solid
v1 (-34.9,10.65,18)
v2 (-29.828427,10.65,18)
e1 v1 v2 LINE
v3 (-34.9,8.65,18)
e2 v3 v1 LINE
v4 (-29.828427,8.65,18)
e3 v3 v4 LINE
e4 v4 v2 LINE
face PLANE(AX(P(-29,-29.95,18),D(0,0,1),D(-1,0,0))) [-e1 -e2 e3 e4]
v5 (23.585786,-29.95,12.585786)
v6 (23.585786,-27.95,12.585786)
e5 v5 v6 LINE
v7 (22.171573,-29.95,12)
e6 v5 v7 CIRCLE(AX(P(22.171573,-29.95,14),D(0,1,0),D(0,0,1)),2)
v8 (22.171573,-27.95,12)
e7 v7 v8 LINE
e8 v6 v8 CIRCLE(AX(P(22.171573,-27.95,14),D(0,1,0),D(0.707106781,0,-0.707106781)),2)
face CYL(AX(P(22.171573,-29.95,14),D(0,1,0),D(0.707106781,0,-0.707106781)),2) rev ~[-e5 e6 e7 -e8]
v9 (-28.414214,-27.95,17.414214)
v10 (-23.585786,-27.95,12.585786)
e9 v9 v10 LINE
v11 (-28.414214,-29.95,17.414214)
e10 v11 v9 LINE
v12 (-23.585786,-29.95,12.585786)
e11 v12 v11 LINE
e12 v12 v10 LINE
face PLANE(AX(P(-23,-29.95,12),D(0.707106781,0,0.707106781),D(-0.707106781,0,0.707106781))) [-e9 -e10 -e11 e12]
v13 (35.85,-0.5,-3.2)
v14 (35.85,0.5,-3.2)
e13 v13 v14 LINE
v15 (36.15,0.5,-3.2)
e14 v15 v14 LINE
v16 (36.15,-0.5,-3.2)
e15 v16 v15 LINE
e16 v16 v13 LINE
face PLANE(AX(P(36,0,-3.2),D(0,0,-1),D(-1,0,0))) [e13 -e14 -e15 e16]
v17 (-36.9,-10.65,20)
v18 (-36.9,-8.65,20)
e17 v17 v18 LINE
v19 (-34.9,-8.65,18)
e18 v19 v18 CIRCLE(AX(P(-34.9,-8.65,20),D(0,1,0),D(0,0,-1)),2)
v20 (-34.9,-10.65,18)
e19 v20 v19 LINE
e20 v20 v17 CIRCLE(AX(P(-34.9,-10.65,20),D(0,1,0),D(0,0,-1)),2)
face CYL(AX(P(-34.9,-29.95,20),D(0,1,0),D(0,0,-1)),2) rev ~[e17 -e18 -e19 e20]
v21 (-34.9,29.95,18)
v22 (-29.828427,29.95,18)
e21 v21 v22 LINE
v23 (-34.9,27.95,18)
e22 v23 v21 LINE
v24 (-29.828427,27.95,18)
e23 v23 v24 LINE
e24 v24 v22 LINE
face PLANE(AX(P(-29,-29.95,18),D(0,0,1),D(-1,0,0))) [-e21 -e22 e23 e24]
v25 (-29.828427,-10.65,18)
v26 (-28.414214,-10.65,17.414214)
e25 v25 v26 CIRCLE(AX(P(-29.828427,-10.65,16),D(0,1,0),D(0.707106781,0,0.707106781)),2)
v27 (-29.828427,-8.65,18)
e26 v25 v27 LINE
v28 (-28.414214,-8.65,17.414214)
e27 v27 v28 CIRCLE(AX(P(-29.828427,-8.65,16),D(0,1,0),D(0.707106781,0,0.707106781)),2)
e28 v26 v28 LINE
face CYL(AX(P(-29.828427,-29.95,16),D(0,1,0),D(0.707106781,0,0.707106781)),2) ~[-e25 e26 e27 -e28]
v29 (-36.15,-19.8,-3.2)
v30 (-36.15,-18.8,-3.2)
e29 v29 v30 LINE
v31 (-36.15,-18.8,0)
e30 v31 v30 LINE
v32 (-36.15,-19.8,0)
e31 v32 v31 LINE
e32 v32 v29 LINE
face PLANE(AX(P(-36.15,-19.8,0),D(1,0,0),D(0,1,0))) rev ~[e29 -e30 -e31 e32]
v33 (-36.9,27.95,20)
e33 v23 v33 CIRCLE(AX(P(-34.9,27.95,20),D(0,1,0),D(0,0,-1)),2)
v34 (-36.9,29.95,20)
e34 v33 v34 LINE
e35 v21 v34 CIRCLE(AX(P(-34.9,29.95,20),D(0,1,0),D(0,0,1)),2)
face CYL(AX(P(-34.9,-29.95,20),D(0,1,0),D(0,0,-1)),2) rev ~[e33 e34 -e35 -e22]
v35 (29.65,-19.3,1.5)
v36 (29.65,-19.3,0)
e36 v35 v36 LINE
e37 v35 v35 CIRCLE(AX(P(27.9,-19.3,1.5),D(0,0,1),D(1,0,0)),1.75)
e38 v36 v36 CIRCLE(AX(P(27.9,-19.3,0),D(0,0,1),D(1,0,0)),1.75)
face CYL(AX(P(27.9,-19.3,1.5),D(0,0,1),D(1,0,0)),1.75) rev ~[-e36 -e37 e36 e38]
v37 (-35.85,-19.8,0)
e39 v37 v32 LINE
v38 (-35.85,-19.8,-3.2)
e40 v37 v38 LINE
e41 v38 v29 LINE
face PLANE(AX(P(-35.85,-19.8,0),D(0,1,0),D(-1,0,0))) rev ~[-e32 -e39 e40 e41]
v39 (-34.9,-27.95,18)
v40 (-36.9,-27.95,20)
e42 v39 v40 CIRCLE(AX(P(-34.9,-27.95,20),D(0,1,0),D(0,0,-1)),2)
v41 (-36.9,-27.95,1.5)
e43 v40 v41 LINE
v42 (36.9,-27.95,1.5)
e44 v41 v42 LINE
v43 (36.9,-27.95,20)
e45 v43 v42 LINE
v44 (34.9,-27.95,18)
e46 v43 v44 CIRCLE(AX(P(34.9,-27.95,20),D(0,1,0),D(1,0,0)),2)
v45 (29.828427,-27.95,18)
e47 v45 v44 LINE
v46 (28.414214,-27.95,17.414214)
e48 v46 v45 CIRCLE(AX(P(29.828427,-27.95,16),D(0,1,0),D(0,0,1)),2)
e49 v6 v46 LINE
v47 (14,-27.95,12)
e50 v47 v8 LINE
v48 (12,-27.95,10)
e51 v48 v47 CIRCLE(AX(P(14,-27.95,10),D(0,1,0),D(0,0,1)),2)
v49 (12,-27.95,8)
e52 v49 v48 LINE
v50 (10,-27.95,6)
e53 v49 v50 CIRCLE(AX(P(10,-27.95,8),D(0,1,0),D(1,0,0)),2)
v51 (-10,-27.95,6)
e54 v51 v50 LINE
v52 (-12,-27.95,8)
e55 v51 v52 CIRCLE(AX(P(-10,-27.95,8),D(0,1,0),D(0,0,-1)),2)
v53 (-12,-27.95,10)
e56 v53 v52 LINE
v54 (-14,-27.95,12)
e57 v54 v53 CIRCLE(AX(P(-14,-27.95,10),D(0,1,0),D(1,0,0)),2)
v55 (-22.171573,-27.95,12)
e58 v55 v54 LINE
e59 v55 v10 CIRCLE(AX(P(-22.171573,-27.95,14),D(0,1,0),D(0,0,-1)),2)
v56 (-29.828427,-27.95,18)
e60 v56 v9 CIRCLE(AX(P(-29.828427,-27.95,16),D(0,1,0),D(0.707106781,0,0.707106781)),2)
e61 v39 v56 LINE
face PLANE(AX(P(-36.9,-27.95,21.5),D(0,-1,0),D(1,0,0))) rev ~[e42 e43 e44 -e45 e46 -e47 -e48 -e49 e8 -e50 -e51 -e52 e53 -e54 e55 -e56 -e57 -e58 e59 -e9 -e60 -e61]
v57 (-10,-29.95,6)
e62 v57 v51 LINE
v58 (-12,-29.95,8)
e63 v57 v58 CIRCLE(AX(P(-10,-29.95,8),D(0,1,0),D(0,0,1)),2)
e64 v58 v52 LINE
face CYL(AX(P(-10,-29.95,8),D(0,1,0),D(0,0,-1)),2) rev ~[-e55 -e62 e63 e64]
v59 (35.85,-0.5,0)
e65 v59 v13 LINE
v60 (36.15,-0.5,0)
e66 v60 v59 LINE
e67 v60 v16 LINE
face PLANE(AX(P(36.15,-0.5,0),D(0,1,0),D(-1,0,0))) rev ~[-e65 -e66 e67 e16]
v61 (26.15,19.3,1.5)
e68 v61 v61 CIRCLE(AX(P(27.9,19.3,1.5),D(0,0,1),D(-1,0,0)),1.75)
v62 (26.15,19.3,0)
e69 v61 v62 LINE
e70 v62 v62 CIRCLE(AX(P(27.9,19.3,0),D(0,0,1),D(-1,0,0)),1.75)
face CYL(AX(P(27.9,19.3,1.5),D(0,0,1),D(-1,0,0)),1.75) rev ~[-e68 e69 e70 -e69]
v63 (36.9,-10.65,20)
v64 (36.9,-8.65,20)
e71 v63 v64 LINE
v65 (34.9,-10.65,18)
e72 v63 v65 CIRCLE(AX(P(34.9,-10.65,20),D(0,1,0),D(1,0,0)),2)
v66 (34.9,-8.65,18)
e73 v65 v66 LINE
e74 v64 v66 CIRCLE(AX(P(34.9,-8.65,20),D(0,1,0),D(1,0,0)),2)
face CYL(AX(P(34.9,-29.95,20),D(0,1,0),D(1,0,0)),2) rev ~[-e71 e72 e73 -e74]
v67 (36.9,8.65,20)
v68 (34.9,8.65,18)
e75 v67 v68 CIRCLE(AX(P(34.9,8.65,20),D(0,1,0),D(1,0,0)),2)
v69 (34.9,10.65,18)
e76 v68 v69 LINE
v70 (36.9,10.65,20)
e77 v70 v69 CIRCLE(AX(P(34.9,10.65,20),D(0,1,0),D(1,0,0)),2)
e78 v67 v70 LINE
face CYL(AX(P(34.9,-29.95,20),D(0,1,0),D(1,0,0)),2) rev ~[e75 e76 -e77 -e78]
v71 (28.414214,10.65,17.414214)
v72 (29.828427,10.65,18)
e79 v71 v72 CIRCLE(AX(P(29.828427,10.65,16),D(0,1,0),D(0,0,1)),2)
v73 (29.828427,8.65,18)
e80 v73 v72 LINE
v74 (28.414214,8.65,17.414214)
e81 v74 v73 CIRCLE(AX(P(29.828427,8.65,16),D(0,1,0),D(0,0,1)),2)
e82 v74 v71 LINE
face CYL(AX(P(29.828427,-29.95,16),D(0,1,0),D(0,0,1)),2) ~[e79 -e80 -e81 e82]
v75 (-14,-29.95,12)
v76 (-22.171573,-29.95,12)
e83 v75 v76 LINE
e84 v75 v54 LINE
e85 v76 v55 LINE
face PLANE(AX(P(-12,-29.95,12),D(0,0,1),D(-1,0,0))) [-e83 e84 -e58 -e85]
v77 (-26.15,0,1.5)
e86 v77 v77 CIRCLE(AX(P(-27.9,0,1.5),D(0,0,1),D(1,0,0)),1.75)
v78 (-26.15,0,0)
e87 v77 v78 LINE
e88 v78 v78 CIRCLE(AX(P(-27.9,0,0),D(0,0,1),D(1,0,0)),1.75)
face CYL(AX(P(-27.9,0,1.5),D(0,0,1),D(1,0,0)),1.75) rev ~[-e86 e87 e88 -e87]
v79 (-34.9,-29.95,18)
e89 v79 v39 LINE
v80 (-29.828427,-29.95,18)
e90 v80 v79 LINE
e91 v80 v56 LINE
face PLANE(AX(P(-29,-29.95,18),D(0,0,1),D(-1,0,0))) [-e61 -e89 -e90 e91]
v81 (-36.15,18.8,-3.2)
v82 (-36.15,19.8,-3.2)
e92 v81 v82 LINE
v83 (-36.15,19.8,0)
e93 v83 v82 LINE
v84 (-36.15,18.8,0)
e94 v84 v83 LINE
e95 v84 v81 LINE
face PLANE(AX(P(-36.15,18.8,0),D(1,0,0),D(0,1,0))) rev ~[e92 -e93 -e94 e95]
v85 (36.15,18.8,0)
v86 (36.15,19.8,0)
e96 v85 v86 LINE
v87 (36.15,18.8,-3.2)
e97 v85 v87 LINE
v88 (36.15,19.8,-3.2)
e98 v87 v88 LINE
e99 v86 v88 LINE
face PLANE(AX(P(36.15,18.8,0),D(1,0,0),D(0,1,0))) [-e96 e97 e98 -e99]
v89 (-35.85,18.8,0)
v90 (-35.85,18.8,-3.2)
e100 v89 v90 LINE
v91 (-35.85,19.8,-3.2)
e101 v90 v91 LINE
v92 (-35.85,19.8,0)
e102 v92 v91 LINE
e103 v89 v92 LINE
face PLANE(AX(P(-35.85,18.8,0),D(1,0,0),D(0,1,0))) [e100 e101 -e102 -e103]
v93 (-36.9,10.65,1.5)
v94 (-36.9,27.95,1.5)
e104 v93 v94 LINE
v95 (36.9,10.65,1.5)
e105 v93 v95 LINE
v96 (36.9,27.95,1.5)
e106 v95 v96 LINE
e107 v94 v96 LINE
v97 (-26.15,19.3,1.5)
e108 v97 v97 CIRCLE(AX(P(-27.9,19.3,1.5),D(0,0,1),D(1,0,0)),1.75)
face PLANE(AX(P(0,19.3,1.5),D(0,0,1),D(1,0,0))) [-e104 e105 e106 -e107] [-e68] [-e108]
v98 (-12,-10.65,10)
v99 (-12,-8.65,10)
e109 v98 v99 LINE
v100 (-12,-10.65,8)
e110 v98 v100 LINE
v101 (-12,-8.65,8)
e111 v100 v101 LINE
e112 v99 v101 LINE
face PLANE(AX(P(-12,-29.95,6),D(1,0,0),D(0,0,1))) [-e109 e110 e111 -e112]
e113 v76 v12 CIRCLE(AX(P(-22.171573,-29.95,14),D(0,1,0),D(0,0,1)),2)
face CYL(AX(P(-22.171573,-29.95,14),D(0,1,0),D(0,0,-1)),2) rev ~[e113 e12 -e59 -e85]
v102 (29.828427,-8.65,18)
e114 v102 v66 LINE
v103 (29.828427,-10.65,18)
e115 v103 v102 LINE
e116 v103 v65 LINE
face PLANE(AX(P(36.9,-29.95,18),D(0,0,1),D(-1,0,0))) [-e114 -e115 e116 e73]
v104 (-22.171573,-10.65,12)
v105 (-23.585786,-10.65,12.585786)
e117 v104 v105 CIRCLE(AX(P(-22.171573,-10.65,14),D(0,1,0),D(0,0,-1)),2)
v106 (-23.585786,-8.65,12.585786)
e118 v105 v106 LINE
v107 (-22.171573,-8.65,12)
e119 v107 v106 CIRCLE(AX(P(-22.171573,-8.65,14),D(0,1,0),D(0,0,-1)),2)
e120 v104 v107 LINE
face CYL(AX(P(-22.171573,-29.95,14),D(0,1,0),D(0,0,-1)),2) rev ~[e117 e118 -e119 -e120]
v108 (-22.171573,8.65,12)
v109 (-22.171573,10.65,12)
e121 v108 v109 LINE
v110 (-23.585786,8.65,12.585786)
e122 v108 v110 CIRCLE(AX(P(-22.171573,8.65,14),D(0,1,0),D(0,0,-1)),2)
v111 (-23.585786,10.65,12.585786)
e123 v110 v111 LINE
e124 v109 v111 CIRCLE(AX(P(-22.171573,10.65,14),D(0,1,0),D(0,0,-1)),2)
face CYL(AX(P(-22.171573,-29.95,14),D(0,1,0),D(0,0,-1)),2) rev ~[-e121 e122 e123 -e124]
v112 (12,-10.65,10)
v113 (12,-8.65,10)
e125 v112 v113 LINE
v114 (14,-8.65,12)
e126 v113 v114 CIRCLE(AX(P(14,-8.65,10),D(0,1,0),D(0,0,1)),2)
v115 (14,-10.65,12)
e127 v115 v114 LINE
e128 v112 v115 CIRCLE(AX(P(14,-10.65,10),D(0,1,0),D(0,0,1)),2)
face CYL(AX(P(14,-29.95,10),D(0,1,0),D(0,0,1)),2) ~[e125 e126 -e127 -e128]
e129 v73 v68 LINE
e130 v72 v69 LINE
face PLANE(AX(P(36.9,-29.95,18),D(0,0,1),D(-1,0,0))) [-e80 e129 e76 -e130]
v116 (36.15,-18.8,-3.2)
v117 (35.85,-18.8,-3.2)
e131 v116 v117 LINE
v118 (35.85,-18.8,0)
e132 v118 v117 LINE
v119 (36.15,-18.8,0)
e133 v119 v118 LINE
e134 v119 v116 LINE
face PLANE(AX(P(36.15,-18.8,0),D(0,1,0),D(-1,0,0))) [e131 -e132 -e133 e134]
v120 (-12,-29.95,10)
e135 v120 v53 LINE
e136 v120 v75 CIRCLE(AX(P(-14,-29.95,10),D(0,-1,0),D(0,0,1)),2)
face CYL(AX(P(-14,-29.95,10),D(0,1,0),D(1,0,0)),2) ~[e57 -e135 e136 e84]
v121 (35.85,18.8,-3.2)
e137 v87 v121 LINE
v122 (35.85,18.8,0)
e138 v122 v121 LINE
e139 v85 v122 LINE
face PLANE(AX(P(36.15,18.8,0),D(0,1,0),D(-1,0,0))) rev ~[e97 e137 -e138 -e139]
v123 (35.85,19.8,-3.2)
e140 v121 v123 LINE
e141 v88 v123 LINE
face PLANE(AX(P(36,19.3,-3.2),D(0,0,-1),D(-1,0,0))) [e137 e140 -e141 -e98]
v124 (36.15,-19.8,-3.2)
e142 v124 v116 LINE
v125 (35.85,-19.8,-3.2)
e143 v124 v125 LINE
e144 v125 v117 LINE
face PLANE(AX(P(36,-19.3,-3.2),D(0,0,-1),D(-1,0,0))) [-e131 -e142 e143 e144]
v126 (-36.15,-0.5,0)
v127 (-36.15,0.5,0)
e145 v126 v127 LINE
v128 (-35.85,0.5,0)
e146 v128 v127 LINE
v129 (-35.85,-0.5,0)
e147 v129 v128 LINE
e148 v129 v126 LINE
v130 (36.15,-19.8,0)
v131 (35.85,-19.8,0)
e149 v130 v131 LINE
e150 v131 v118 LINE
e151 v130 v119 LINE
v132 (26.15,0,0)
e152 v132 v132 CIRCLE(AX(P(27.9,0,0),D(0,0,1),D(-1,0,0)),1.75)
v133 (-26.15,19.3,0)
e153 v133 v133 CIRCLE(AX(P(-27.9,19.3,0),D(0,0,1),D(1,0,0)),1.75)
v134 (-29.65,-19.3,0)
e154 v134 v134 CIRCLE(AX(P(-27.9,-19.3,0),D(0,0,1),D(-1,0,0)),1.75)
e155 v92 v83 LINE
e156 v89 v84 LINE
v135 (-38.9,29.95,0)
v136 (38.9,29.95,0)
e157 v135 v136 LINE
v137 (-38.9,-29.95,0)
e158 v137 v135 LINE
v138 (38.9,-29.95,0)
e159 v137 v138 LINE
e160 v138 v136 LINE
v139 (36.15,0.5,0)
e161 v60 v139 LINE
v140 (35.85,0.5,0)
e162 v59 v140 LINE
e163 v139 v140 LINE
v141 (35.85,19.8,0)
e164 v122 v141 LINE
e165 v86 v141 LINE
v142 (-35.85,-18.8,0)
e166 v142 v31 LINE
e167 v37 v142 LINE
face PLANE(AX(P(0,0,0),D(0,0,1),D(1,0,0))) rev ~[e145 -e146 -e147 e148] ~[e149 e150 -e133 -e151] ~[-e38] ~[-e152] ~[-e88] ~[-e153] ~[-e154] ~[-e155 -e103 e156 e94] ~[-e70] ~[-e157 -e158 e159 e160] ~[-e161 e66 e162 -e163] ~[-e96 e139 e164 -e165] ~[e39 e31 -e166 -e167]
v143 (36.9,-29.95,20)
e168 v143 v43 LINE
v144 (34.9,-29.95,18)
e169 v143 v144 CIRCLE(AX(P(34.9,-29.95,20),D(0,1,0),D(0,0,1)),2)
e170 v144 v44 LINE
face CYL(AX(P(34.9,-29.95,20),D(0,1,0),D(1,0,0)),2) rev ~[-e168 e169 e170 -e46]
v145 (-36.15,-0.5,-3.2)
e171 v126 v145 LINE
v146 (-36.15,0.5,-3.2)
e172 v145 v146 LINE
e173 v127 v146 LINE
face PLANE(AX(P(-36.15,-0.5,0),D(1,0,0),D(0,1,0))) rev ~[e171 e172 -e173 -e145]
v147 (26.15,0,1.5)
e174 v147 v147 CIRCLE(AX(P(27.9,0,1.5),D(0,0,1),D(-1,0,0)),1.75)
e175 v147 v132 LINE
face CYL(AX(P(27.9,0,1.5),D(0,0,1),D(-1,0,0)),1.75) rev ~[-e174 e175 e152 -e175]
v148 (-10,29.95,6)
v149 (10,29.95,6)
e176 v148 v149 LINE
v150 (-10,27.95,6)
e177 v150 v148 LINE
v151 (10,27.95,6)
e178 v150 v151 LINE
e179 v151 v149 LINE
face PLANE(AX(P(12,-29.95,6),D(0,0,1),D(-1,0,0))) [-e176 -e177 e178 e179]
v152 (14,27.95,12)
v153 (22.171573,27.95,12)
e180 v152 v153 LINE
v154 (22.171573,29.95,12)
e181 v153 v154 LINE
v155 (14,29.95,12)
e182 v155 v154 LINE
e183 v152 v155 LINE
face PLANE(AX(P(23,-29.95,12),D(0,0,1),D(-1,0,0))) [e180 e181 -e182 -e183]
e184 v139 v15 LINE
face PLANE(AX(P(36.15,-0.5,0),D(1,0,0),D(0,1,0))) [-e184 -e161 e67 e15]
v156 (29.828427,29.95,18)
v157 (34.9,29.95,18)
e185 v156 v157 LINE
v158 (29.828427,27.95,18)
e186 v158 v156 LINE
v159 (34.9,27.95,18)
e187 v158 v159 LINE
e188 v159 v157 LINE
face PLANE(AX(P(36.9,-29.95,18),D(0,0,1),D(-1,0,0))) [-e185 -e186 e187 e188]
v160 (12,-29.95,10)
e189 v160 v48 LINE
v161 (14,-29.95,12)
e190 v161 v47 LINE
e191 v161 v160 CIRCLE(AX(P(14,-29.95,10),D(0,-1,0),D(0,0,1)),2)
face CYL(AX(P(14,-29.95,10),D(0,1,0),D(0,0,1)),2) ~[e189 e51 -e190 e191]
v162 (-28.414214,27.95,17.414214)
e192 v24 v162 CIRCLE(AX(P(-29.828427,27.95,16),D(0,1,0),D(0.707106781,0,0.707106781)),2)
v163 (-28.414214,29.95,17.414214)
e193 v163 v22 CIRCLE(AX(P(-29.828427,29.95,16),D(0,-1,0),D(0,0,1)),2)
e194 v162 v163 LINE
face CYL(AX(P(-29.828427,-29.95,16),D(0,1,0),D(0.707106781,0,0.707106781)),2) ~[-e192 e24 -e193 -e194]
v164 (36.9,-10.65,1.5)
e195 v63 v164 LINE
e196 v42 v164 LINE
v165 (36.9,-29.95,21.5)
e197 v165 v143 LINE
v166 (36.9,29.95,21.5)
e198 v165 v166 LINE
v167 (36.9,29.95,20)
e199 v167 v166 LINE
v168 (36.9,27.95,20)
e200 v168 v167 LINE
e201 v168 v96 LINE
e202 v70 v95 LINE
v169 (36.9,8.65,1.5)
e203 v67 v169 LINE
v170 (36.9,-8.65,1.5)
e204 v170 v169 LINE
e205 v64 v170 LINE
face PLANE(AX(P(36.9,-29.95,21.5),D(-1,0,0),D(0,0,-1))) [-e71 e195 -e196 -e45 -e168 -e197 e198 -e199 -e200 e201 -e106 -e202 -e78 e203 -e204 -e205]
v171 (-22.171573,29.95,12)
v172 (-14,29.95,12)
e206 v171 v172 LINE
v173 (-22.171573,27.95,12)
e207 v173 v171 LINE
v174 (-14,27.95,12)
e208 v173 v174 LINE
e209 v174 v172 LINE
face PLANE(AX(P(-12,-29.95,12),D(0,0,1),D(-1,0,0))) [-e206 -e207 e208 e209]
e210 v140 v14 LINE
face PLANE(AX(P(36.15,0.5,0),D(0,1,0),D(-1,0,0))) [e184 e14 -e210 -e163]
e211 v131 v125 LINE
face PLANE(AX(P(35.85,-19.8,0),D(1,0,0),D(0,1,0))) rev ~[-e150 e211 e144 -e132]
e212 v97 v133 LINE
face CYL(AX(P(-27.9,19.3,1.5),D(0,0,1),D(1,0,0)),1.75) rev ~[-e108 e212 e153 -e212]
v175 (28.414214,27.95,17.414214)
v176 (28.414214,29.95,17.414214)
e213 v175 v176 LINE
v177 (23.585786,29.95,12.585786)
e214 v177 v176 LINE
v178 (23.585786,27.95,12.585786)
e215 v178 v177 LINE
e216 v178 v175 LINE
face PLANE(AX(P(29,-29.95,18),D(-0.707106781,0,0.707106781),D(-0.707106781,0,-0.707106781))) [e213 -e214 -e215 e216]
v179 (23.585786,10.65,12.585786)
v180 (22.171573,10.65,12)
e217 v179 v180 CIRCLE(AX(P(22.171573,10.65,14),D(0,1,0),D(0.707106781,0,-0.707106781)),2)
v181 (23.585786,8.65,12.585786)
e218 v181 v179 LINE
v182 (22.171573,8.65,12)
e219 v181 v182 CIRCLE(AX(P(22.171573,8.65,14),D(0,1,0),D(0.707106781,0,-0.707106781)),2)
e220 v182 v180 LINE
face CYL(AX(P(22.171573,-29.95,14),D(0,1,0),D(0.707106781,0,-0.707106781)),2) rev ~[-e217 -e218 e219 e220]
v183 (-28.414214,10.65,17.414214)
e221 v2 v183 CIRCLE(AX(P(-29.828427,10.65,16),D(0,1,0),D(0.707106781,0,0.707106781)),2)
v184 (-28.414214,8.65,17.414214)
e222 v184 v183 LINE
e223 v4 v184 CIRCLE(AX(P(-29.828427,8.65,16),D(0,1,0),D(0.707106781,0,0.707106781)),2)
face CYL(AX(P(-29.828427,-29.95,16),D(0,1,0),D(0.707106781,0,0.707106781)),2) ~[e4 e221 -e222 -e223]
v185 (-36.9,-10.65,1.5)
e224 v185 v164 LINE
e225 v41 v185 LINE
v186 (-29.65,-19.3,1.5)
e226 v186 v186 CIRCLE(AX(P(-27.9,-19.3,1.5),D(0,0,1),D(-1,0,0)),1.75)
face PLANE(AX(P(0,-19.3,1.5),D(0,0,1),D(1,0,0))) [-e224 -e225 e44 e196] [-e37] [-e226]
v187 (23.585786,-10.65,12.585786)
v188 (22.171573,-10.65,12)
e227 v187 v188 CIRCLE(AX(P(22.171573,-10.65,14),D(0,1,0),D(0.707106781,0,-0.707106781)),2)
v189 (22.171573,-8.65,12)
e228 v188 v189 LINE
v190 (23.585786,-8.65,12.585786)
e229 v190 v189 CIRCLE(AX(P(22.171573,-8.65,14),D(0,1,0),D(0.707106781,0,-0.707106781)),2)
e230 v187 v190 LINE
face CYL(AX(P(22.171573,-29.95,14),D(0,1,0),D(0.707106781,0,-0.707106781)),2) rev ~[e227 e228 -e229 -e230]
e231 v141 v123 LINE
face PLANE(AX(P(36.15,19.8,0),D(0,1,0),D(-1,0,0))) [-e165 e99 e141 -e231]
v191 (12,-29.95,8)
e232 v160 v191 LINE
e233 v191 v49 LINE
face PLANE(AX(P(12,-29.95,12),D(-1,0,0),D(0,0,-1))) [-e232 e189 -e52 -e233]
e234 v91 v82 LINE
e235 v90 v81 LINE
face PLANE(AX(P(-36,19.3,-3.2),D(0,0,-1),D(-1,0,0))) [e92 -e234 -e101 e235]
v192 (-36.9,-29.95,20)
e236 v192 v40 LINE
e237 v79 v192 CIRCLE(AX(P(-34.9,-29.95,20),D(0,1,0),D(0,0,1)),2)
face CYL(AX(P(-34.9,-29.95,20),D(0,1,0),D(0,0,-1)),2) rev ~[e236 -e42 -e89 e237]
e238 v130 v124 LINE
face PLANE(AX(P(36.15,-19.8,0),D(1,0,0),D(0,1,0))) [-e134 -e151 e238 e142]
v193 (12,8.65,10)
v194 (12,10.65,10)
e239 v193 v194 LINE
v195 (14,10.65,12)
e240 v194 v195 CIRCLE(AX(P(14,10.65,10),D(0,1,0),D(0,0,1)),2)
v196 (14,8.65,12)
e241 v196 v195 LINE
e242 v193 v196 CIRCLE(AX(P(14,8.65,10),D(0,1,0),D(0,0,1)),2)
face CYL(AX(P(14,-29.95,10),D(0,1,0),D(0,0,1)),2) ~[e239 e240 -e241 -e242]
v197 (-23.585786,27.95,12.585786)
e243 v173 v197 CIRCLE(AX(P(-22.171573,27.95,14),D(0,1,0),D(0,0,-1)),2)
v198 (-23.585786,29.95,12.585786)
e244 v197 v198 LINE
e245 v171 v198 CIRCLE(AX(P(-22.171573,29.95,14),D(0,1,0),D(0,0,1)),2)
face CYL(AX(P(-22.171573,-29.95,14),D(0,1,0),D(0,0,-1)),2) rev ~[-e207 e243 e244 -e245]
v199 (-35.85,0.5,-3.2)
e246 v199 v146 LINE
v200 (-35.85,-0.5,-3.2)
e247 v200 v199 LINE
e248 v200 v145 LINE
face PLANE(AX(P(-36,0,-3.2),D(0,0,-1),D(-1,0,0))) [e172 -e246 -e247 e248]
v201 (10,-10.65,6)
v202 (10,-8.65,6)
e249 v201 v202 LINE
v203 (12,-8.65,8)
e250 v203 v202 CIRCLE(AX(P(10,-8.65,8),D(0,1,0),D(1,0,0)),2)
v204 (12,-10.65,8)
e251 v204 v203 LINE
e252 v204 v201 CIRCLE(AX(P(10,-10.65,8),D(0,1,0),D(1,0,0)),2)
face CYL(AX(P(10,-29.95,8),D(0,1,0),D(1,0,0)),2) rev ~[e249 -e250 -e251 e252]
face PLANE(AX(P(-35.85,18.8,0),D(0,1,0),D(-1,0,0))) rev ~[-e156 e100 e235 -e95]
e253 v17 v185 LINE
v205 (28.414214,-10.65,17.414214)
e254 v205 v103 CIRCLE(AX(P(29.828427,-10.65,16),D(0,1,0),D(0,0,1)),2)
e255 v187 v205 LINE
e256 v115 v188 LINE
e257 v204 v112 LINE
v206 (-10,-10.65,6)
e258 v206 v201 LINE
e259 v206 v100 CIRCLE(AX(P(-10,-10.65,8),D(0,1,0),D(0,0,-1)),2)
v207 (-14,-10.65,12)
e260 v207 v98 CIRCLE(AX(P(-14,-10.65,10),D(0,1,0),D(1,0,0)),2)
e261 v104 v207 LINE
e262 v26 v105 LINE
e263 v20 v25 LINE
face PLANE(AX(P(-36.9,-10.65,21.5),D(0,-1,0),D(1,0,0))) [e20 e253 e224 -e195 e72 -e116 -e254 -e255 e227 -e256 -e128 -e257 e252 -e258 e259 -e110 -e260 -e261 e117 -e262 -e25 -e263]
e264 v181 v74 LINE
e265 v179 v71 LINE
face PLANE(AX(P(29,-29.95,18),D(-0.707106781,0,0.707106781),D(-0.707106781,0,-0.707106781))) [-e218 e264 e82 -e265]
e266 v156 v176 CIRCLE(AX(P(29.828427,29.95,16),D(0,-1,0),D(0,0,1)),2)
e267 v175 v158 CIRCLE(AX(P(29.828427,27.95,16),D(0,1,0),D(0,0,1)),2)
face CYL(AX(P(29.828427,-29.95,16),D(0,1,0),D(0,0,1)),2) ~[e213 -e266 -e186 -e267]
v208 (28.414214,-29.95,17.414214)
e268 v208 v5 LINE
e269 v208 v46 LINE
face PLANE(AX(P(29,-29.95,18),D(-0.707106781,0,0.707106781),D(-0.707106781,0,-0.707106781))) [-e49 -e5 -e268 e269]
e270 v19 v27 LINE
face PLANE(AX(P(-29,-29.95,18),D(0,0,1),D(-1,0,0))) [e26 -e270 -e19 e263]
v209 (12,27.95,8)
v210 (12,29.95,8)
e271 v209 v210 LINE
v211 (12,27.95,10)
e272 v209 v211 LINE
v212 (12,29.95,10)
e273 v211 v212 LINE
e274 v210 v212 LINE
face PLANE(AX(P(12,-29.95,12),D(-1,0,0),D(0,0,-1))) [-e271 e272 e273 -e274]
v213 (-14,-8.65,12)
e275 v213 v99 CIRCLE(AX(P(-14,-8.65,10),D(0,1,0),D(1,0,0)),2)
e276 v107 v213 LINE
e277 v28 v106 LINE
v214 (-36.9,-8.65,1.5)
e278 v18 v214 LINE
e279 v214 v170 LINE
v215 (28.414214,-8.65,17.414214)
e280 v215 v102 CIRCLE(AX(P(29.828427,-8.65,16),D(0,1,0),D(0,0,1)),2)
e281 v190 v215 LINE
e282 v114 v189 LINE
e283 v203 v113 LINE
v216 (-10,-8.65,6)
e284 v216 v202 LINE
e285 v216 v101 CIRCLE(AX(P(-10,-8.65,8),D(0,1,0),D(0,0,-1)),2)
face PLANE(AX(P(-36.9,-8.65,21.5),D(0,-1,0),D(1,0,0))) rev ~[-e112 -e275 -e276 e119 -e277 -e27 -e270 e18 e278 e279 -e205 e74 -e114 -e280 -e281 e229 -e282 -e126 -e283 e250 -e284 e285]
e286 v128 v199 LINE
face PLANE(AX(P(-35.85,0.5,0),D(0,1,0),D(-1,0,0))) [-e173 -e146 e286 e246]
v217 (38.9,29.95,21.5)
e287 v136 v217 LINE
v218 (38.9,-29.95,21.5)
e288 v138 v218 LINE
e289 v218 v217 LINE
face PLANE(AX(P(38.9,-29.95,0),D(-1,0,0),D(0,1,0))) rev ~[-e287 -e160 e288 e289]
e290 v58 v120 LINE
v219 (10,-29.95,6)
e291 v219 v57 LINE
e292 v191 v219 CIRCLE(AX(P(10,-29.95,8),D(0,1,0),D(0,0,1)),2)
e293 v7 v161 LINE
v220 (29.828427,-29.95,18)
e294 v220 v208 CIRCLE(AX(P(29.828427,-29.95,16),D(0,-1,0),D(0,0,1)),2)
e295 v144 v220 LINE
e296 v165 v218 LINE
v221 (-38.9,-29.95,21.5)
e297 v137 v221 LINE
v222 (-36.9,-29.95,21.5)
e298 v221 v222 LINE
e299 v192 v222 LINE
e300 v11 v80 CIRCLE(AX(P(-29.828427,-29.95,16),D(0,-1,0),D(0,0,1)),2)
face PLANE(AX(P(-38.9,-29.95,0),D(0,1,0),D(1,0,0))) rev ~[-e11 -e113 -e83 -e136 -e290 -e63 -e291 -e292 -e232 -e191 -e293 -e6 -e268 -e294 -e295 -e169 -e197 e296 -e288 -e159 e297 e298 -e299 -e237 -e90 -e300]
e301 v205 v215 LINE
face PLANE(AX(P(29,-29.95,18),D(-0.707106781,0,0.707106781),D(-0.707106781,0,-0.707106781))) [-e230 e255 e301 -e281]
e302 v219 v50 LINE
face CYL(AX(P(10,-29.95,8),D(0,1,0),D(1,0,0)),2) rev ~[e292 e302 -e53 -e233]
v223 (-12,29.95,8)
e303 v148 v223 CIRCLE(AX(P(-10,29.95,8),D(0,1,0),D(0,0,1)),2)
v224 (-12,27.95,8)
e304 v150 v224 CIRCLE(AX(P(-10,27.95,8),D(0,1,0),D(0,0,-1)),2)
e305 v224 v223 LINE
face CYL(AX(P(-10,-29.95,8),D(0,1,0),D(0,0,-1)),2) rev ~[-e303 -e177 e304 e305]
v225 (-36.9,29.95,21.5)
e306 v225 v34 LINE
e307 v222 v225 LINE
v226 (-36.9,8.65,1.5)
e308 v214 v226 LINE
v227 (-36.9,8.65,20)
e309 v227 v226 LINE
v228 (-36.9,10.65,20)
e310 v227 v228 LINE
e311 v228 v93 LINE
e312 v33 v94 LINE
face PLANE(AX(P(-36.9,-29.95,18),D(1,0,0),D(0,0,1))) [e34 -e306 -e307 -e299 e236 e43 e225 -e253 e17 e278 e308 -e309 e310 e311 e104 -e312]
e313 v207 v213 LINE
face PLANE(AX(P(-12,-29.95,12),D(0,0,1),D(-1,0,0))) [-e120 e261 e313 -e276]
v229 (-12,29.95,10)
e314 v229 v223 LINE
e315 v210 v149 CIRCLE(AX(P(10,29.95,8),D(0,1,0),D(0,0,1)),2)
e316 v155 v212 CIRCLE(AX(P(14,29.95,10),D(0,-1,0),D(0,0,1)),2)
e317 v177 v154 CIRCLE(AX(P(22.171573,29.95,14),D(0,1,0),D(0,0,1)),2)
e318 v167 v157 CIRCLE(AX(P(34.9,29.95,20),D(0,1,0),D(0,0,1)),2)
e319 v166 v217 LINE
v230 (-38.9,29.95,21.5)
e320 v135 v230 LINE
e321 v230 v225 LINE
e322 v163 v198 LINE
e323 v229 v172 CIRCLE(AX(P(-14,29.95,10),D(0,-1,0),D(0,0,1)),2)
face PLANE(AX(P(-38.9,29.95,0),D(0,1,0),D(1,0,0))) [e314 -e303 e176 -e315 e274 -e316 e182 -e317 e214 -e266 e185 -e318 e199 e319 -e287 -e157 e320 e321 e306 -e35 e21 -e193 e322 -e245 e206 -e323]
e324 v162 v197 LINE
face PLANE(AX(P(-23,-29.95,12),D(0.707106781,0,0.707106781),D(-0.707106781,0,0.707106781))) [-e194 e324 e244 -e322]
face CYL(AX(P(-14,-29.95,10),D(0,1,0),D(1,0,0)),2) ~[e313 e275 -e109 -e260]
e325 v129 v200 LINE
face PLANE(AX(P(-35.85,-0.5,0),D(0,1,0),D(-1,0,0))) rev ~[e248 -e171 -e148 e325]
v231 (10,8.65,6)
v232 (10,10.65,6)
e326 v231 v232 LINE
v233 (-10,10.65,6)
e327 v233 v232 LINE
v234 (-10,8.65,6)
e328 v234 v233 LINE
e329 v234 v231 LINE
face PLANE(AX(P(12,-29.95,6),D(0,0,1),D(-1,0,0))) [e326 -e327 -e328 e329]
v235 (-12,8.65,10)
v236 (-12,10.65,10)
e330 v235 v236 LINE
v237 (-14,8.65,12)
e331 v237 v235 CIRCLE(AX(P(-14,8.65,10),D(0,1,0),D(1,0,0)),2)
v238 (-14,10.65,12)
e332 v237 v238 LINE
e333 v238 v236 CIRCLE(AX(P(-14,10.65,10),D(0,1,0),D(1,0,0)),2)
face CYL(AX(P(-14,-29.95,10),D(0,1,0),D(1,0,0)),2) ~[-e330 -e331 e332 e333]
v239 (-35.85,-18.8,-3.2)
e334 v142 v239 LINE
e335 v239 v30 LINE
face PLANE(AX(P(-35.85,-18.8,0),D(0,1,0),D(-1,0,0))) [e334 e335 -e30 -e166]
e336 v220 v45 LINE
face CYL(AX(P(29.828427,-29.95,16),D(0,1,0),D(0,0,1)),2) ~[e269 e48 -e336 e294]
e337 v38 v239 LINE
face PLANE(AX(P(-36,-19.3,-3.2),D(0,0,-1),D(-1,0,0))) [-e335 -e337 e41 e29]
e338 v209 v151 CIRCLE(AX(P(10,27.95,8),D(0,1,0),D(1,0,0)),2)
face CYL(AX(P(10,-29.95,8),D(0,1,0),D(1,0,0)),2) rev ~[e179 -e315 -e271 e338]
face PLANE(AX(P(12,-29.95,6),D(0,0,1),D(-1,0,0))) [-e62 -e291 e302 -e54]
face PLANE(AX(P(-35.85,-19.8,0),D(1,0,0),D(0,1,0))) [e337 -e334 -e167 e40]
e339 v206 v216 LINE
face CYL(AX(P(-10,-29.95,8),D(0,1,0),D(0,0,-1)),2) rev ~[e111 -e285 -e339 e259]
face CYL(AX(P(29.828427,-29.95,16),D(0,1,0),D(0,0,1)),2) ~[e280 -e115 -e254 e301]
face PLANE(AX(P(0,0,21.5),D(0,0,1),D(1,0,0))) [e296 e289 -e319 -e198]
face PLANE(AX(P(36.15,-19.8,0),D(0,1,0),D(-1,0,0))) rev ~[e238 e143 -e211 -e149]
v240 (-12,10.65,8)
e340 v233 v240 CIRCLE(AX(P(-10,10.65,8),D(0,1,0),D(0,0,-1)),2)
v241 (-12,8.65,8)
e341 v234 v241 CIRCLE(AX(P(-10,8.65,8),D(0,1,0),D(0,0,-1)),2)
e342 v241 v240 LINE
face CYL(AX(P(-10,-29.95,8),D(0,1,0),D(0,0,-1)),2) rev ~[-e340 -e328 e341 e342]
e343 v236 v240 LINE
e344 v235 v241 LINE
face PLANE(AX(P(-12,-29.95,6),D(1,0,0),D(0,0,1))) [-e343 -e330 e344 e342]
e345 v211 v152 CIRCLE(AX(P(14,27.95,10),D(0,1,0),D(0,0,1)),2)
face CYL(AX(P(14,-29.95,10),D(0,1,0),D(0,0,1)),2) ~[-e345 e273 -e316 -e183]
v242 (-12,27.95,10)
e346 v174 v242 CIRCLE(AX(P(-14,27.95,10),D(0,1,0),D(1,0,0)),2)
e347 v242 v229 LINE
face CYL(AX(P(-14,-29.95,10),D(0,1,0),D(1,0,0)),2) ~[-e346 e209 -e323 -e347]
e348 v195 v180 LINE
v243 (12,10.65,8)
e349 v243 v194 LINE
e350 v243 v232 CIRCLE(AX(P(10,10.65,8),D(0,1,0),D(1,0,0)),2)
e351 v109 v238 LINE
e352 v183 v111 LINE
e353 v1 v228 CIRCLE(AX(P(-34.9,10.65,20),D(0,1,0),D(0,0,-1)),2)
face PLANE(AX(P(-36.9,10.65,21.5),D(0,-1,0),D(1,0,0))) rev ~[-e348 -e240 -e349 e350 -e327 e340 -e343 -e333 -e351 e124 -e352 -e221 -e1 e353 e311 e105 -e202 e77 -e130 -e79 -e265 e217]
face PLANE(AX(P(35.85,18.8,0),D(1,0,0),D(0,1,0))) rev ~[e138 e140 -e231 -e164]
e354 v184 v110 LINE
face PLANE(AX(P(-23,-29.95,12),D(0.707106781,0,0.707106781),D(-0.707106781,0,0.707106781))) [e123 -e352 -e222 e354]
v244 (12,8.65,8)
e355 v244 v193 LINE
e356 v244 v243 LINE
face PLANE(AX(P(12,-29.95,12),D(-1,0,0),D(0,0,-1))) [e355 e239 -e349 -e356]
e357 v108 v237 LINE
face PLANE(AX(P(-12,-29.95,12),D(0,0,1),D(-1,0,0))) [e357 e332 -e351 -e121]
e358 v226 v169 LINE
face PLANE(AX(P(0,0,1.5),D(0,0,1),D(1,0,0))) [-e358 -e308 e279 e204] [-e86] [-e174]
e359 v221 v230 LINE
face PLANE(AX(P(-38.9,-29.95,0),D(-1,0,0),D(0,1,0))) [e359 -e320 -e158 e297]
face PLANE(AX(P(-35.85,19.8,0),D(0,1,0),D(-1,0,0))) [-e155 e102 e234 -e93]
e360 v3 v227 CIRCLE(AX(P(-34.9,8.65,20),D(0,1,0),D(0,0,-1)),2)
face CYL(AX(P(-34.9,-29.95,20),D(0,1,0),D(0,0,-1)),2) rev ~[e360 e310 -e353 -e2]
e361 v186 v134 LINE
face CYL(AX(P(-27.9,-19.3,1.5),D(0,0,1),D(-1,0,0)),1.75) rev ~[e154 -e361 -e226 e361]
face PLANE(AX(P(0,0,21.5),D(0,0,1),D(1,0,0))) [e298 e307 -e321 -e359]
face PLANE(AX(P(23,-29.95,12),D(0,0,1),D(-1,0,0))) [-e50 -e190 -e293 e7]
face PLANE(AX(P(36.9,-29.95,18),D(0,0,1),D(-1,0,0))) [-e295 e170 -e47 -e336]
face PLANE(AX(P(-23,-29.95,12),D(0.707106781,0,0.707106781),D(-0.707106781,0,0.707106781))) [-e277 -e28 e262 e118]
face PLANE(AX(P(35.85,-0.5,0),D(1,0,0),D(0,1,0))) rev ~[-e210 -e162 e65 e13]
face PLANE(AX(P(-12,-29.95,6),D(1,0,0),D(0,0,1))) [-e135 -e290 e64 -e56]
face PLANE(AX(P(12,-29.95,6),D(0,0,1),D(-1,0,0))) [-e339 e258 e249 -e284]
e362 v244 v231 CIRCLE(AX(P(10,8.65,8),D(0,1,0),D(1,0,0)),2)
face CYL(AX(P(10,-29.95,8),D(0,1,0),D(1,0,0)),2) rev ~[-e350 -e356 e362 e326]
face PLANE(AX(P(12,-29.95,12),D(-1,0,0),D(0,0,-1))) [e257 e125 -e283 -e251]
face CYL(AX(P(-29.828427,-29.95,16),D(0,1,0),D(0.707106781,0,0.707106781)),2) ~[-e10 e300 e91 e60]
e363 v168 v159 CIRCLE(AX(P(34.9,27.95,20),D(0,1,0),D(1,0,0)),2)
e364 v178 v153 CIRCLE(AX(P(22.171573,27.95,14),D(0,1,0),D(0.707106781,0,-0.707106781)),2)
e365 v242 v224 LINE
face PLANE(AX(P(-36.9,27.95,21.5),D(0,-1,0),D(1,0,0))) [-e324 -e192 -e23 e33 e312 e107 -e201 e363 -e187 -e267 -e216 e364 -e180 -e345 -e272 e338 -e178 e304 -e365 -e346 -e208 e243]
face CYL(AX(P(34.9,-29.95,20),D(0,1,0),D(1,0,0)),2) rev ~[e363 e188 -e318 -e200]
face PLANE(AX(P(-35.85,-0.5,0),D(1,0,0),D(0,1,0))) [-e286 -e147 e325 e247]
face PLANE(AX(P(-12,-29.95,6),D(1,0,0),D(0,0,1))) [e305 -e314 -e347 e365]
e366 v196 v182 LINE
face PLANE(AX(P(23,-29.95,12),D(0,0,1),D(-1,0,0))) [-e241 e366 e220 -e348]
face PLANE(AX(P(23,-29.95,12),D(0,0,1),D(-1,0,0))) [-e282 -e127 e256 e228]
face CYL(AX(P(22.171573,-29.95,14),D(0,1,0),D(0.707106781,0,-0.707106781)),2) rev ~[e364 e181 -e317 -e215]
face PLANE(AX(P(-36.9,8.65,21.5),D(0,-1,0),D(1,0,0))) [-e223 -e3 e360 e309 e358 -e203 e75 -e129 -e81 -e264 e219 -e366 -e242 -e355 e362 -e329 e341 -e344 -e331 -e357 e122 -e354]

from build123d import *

# Parameters (mm, degrees)
SKETCH1_W           = 77.8
SKETCH1_H           = 59.9
BOSS_EXTRUDE1_DEPTH = 21.5
CUT_EXTRUDE1_DEPTH  = 75.588672062
FILLET1_R           = 2
SKETCH4_W           = 73.8
SKETCH4_H           = 17.3
CUT_EXTRUDE2_DEPTH  = 20
SKETCH5_R           = 1.75
CUT_EXTRUDE3_DEPTH  = 54.011437445
SKETCH6_W           = 0.3
SKETCH6_H           = 1
BOSS_EXTRUDE2_DEPTH = 3.2


with BuildPart() as part:
    # Sketch1 → Boss-Extrude1 (new body)
    with BuildSketch(Plane.XY):
        Rectangle(SKETCH1_W, SKETCH1_H)
    extrude(amount=BOSS_EXTRUDE1_DEPTH)

    # Sketch2 → Cut-Extrude1 (cut, through all)
    with BuildSketch(Plane.XZ.offset(29.95)):
        Polygon((-36.9, 21.5), (36.9, 21.5), (36.9, 18), (29, 18), (23, 12), (12, 12), (12, 6), (-12, 6), (-12, 12), (-23, 12), (-29, 18), (-36.9, 18), align=None)
    extrude(amount=-CUT_EXTRUDE1_DEPTH, mode=Mode.SUBTRACT)

    # Fillet1
    fillet1_edges = [part.edges().sort_by_distance(p)[0] for p in [
        (-12, 0, 12),
        (-23, 0, 12),
        (-29, 0, 18),
        (-36.9, 0, 18),
        (36.9, 0, 18),
        (29, 0, 18),
        (23, 0, 12),
        (12, 0, 12),
        (12, 0, 6),
        (-12, 0, 6),
    ]]
    fillet(fillet1_edges, radius=FILLET1_R)

    # Sketch4 → Cut-Extrude2 (cut)
    with BuildSketch(Plane.XY.offset(21.5)):
        with Locations((0, 19.3)):
            Rectangle(SKETCH4_W, SKETCH4_H)
        Rectangle(SKETCH4_W, SKETCH4_H)
        with Locations((0, -19.3)):
            Rectangle(SKETCH4_W, SKETCH4_H)
    extrude(amount=-CUT_EXTRUDE2_DEPTH, mode=Mode.SUBTRACT)

    # Sketch5 → Cut-Extrude3 (cut, through all)
    with BuildSketch(Plane.XY.offset(1.5)):
        with Locations((-27.9, 0)):
            Circle(SKETCH5_R)
        with Locations((-27.9, 19.3)):
            Circle(SKETCH5_R)
        with Locations(Location((27.9, 0, 0), (0, 0, 180))):
            Circle(SKETCH5_R)
        with Locations(Location((27.9, 19.3, 0), (0, 0, 180))):
            Circle(SKETCH5_R)
        with Locations((27.9, -19.3)):
            Circle(SKETCH5_R)
        with Locations(Location((-27.9, -19.3, 0), (0, 0, 180))):
            Circle(SKETCH5_R)
    extrude(amount=-CUT_EXTRUDE3_DEPTH, mode=Mode.SUBTRACT)

    # Sketch6 → Boss-Extrude2 (add)
    with BuildSketch(Plane(origin=(0, 0, 0), x_dir=(-1, 0, 0), z_dir=(0, 0, -1))):
        with Locations((-36, 0)):
            Rectangle(SKETCH6_W, SKETCH6_H)
        with Locations((-36, 19.3)):
            Rectangle(SKETCH6_W, SKETCH6_H)
        with Locations((36, 19.3)):
            Rectangle(SKETCH6_W, SKETCH6_H)
        with Locations((36, 0)):
            Rectangle(SKETCH6_W, SKETCH6_H)
        with Locations((36, -19.3)):
            Rectangle(SKETCH6_W, SKETCH6_H)
        with Locations((-36, -19.3)):
            Rectangle(SKETCH6_W, SKETCH6_H)
    extrude(amount=BOSS_EXTRUDE2_DEPTH)


solid = part.part
